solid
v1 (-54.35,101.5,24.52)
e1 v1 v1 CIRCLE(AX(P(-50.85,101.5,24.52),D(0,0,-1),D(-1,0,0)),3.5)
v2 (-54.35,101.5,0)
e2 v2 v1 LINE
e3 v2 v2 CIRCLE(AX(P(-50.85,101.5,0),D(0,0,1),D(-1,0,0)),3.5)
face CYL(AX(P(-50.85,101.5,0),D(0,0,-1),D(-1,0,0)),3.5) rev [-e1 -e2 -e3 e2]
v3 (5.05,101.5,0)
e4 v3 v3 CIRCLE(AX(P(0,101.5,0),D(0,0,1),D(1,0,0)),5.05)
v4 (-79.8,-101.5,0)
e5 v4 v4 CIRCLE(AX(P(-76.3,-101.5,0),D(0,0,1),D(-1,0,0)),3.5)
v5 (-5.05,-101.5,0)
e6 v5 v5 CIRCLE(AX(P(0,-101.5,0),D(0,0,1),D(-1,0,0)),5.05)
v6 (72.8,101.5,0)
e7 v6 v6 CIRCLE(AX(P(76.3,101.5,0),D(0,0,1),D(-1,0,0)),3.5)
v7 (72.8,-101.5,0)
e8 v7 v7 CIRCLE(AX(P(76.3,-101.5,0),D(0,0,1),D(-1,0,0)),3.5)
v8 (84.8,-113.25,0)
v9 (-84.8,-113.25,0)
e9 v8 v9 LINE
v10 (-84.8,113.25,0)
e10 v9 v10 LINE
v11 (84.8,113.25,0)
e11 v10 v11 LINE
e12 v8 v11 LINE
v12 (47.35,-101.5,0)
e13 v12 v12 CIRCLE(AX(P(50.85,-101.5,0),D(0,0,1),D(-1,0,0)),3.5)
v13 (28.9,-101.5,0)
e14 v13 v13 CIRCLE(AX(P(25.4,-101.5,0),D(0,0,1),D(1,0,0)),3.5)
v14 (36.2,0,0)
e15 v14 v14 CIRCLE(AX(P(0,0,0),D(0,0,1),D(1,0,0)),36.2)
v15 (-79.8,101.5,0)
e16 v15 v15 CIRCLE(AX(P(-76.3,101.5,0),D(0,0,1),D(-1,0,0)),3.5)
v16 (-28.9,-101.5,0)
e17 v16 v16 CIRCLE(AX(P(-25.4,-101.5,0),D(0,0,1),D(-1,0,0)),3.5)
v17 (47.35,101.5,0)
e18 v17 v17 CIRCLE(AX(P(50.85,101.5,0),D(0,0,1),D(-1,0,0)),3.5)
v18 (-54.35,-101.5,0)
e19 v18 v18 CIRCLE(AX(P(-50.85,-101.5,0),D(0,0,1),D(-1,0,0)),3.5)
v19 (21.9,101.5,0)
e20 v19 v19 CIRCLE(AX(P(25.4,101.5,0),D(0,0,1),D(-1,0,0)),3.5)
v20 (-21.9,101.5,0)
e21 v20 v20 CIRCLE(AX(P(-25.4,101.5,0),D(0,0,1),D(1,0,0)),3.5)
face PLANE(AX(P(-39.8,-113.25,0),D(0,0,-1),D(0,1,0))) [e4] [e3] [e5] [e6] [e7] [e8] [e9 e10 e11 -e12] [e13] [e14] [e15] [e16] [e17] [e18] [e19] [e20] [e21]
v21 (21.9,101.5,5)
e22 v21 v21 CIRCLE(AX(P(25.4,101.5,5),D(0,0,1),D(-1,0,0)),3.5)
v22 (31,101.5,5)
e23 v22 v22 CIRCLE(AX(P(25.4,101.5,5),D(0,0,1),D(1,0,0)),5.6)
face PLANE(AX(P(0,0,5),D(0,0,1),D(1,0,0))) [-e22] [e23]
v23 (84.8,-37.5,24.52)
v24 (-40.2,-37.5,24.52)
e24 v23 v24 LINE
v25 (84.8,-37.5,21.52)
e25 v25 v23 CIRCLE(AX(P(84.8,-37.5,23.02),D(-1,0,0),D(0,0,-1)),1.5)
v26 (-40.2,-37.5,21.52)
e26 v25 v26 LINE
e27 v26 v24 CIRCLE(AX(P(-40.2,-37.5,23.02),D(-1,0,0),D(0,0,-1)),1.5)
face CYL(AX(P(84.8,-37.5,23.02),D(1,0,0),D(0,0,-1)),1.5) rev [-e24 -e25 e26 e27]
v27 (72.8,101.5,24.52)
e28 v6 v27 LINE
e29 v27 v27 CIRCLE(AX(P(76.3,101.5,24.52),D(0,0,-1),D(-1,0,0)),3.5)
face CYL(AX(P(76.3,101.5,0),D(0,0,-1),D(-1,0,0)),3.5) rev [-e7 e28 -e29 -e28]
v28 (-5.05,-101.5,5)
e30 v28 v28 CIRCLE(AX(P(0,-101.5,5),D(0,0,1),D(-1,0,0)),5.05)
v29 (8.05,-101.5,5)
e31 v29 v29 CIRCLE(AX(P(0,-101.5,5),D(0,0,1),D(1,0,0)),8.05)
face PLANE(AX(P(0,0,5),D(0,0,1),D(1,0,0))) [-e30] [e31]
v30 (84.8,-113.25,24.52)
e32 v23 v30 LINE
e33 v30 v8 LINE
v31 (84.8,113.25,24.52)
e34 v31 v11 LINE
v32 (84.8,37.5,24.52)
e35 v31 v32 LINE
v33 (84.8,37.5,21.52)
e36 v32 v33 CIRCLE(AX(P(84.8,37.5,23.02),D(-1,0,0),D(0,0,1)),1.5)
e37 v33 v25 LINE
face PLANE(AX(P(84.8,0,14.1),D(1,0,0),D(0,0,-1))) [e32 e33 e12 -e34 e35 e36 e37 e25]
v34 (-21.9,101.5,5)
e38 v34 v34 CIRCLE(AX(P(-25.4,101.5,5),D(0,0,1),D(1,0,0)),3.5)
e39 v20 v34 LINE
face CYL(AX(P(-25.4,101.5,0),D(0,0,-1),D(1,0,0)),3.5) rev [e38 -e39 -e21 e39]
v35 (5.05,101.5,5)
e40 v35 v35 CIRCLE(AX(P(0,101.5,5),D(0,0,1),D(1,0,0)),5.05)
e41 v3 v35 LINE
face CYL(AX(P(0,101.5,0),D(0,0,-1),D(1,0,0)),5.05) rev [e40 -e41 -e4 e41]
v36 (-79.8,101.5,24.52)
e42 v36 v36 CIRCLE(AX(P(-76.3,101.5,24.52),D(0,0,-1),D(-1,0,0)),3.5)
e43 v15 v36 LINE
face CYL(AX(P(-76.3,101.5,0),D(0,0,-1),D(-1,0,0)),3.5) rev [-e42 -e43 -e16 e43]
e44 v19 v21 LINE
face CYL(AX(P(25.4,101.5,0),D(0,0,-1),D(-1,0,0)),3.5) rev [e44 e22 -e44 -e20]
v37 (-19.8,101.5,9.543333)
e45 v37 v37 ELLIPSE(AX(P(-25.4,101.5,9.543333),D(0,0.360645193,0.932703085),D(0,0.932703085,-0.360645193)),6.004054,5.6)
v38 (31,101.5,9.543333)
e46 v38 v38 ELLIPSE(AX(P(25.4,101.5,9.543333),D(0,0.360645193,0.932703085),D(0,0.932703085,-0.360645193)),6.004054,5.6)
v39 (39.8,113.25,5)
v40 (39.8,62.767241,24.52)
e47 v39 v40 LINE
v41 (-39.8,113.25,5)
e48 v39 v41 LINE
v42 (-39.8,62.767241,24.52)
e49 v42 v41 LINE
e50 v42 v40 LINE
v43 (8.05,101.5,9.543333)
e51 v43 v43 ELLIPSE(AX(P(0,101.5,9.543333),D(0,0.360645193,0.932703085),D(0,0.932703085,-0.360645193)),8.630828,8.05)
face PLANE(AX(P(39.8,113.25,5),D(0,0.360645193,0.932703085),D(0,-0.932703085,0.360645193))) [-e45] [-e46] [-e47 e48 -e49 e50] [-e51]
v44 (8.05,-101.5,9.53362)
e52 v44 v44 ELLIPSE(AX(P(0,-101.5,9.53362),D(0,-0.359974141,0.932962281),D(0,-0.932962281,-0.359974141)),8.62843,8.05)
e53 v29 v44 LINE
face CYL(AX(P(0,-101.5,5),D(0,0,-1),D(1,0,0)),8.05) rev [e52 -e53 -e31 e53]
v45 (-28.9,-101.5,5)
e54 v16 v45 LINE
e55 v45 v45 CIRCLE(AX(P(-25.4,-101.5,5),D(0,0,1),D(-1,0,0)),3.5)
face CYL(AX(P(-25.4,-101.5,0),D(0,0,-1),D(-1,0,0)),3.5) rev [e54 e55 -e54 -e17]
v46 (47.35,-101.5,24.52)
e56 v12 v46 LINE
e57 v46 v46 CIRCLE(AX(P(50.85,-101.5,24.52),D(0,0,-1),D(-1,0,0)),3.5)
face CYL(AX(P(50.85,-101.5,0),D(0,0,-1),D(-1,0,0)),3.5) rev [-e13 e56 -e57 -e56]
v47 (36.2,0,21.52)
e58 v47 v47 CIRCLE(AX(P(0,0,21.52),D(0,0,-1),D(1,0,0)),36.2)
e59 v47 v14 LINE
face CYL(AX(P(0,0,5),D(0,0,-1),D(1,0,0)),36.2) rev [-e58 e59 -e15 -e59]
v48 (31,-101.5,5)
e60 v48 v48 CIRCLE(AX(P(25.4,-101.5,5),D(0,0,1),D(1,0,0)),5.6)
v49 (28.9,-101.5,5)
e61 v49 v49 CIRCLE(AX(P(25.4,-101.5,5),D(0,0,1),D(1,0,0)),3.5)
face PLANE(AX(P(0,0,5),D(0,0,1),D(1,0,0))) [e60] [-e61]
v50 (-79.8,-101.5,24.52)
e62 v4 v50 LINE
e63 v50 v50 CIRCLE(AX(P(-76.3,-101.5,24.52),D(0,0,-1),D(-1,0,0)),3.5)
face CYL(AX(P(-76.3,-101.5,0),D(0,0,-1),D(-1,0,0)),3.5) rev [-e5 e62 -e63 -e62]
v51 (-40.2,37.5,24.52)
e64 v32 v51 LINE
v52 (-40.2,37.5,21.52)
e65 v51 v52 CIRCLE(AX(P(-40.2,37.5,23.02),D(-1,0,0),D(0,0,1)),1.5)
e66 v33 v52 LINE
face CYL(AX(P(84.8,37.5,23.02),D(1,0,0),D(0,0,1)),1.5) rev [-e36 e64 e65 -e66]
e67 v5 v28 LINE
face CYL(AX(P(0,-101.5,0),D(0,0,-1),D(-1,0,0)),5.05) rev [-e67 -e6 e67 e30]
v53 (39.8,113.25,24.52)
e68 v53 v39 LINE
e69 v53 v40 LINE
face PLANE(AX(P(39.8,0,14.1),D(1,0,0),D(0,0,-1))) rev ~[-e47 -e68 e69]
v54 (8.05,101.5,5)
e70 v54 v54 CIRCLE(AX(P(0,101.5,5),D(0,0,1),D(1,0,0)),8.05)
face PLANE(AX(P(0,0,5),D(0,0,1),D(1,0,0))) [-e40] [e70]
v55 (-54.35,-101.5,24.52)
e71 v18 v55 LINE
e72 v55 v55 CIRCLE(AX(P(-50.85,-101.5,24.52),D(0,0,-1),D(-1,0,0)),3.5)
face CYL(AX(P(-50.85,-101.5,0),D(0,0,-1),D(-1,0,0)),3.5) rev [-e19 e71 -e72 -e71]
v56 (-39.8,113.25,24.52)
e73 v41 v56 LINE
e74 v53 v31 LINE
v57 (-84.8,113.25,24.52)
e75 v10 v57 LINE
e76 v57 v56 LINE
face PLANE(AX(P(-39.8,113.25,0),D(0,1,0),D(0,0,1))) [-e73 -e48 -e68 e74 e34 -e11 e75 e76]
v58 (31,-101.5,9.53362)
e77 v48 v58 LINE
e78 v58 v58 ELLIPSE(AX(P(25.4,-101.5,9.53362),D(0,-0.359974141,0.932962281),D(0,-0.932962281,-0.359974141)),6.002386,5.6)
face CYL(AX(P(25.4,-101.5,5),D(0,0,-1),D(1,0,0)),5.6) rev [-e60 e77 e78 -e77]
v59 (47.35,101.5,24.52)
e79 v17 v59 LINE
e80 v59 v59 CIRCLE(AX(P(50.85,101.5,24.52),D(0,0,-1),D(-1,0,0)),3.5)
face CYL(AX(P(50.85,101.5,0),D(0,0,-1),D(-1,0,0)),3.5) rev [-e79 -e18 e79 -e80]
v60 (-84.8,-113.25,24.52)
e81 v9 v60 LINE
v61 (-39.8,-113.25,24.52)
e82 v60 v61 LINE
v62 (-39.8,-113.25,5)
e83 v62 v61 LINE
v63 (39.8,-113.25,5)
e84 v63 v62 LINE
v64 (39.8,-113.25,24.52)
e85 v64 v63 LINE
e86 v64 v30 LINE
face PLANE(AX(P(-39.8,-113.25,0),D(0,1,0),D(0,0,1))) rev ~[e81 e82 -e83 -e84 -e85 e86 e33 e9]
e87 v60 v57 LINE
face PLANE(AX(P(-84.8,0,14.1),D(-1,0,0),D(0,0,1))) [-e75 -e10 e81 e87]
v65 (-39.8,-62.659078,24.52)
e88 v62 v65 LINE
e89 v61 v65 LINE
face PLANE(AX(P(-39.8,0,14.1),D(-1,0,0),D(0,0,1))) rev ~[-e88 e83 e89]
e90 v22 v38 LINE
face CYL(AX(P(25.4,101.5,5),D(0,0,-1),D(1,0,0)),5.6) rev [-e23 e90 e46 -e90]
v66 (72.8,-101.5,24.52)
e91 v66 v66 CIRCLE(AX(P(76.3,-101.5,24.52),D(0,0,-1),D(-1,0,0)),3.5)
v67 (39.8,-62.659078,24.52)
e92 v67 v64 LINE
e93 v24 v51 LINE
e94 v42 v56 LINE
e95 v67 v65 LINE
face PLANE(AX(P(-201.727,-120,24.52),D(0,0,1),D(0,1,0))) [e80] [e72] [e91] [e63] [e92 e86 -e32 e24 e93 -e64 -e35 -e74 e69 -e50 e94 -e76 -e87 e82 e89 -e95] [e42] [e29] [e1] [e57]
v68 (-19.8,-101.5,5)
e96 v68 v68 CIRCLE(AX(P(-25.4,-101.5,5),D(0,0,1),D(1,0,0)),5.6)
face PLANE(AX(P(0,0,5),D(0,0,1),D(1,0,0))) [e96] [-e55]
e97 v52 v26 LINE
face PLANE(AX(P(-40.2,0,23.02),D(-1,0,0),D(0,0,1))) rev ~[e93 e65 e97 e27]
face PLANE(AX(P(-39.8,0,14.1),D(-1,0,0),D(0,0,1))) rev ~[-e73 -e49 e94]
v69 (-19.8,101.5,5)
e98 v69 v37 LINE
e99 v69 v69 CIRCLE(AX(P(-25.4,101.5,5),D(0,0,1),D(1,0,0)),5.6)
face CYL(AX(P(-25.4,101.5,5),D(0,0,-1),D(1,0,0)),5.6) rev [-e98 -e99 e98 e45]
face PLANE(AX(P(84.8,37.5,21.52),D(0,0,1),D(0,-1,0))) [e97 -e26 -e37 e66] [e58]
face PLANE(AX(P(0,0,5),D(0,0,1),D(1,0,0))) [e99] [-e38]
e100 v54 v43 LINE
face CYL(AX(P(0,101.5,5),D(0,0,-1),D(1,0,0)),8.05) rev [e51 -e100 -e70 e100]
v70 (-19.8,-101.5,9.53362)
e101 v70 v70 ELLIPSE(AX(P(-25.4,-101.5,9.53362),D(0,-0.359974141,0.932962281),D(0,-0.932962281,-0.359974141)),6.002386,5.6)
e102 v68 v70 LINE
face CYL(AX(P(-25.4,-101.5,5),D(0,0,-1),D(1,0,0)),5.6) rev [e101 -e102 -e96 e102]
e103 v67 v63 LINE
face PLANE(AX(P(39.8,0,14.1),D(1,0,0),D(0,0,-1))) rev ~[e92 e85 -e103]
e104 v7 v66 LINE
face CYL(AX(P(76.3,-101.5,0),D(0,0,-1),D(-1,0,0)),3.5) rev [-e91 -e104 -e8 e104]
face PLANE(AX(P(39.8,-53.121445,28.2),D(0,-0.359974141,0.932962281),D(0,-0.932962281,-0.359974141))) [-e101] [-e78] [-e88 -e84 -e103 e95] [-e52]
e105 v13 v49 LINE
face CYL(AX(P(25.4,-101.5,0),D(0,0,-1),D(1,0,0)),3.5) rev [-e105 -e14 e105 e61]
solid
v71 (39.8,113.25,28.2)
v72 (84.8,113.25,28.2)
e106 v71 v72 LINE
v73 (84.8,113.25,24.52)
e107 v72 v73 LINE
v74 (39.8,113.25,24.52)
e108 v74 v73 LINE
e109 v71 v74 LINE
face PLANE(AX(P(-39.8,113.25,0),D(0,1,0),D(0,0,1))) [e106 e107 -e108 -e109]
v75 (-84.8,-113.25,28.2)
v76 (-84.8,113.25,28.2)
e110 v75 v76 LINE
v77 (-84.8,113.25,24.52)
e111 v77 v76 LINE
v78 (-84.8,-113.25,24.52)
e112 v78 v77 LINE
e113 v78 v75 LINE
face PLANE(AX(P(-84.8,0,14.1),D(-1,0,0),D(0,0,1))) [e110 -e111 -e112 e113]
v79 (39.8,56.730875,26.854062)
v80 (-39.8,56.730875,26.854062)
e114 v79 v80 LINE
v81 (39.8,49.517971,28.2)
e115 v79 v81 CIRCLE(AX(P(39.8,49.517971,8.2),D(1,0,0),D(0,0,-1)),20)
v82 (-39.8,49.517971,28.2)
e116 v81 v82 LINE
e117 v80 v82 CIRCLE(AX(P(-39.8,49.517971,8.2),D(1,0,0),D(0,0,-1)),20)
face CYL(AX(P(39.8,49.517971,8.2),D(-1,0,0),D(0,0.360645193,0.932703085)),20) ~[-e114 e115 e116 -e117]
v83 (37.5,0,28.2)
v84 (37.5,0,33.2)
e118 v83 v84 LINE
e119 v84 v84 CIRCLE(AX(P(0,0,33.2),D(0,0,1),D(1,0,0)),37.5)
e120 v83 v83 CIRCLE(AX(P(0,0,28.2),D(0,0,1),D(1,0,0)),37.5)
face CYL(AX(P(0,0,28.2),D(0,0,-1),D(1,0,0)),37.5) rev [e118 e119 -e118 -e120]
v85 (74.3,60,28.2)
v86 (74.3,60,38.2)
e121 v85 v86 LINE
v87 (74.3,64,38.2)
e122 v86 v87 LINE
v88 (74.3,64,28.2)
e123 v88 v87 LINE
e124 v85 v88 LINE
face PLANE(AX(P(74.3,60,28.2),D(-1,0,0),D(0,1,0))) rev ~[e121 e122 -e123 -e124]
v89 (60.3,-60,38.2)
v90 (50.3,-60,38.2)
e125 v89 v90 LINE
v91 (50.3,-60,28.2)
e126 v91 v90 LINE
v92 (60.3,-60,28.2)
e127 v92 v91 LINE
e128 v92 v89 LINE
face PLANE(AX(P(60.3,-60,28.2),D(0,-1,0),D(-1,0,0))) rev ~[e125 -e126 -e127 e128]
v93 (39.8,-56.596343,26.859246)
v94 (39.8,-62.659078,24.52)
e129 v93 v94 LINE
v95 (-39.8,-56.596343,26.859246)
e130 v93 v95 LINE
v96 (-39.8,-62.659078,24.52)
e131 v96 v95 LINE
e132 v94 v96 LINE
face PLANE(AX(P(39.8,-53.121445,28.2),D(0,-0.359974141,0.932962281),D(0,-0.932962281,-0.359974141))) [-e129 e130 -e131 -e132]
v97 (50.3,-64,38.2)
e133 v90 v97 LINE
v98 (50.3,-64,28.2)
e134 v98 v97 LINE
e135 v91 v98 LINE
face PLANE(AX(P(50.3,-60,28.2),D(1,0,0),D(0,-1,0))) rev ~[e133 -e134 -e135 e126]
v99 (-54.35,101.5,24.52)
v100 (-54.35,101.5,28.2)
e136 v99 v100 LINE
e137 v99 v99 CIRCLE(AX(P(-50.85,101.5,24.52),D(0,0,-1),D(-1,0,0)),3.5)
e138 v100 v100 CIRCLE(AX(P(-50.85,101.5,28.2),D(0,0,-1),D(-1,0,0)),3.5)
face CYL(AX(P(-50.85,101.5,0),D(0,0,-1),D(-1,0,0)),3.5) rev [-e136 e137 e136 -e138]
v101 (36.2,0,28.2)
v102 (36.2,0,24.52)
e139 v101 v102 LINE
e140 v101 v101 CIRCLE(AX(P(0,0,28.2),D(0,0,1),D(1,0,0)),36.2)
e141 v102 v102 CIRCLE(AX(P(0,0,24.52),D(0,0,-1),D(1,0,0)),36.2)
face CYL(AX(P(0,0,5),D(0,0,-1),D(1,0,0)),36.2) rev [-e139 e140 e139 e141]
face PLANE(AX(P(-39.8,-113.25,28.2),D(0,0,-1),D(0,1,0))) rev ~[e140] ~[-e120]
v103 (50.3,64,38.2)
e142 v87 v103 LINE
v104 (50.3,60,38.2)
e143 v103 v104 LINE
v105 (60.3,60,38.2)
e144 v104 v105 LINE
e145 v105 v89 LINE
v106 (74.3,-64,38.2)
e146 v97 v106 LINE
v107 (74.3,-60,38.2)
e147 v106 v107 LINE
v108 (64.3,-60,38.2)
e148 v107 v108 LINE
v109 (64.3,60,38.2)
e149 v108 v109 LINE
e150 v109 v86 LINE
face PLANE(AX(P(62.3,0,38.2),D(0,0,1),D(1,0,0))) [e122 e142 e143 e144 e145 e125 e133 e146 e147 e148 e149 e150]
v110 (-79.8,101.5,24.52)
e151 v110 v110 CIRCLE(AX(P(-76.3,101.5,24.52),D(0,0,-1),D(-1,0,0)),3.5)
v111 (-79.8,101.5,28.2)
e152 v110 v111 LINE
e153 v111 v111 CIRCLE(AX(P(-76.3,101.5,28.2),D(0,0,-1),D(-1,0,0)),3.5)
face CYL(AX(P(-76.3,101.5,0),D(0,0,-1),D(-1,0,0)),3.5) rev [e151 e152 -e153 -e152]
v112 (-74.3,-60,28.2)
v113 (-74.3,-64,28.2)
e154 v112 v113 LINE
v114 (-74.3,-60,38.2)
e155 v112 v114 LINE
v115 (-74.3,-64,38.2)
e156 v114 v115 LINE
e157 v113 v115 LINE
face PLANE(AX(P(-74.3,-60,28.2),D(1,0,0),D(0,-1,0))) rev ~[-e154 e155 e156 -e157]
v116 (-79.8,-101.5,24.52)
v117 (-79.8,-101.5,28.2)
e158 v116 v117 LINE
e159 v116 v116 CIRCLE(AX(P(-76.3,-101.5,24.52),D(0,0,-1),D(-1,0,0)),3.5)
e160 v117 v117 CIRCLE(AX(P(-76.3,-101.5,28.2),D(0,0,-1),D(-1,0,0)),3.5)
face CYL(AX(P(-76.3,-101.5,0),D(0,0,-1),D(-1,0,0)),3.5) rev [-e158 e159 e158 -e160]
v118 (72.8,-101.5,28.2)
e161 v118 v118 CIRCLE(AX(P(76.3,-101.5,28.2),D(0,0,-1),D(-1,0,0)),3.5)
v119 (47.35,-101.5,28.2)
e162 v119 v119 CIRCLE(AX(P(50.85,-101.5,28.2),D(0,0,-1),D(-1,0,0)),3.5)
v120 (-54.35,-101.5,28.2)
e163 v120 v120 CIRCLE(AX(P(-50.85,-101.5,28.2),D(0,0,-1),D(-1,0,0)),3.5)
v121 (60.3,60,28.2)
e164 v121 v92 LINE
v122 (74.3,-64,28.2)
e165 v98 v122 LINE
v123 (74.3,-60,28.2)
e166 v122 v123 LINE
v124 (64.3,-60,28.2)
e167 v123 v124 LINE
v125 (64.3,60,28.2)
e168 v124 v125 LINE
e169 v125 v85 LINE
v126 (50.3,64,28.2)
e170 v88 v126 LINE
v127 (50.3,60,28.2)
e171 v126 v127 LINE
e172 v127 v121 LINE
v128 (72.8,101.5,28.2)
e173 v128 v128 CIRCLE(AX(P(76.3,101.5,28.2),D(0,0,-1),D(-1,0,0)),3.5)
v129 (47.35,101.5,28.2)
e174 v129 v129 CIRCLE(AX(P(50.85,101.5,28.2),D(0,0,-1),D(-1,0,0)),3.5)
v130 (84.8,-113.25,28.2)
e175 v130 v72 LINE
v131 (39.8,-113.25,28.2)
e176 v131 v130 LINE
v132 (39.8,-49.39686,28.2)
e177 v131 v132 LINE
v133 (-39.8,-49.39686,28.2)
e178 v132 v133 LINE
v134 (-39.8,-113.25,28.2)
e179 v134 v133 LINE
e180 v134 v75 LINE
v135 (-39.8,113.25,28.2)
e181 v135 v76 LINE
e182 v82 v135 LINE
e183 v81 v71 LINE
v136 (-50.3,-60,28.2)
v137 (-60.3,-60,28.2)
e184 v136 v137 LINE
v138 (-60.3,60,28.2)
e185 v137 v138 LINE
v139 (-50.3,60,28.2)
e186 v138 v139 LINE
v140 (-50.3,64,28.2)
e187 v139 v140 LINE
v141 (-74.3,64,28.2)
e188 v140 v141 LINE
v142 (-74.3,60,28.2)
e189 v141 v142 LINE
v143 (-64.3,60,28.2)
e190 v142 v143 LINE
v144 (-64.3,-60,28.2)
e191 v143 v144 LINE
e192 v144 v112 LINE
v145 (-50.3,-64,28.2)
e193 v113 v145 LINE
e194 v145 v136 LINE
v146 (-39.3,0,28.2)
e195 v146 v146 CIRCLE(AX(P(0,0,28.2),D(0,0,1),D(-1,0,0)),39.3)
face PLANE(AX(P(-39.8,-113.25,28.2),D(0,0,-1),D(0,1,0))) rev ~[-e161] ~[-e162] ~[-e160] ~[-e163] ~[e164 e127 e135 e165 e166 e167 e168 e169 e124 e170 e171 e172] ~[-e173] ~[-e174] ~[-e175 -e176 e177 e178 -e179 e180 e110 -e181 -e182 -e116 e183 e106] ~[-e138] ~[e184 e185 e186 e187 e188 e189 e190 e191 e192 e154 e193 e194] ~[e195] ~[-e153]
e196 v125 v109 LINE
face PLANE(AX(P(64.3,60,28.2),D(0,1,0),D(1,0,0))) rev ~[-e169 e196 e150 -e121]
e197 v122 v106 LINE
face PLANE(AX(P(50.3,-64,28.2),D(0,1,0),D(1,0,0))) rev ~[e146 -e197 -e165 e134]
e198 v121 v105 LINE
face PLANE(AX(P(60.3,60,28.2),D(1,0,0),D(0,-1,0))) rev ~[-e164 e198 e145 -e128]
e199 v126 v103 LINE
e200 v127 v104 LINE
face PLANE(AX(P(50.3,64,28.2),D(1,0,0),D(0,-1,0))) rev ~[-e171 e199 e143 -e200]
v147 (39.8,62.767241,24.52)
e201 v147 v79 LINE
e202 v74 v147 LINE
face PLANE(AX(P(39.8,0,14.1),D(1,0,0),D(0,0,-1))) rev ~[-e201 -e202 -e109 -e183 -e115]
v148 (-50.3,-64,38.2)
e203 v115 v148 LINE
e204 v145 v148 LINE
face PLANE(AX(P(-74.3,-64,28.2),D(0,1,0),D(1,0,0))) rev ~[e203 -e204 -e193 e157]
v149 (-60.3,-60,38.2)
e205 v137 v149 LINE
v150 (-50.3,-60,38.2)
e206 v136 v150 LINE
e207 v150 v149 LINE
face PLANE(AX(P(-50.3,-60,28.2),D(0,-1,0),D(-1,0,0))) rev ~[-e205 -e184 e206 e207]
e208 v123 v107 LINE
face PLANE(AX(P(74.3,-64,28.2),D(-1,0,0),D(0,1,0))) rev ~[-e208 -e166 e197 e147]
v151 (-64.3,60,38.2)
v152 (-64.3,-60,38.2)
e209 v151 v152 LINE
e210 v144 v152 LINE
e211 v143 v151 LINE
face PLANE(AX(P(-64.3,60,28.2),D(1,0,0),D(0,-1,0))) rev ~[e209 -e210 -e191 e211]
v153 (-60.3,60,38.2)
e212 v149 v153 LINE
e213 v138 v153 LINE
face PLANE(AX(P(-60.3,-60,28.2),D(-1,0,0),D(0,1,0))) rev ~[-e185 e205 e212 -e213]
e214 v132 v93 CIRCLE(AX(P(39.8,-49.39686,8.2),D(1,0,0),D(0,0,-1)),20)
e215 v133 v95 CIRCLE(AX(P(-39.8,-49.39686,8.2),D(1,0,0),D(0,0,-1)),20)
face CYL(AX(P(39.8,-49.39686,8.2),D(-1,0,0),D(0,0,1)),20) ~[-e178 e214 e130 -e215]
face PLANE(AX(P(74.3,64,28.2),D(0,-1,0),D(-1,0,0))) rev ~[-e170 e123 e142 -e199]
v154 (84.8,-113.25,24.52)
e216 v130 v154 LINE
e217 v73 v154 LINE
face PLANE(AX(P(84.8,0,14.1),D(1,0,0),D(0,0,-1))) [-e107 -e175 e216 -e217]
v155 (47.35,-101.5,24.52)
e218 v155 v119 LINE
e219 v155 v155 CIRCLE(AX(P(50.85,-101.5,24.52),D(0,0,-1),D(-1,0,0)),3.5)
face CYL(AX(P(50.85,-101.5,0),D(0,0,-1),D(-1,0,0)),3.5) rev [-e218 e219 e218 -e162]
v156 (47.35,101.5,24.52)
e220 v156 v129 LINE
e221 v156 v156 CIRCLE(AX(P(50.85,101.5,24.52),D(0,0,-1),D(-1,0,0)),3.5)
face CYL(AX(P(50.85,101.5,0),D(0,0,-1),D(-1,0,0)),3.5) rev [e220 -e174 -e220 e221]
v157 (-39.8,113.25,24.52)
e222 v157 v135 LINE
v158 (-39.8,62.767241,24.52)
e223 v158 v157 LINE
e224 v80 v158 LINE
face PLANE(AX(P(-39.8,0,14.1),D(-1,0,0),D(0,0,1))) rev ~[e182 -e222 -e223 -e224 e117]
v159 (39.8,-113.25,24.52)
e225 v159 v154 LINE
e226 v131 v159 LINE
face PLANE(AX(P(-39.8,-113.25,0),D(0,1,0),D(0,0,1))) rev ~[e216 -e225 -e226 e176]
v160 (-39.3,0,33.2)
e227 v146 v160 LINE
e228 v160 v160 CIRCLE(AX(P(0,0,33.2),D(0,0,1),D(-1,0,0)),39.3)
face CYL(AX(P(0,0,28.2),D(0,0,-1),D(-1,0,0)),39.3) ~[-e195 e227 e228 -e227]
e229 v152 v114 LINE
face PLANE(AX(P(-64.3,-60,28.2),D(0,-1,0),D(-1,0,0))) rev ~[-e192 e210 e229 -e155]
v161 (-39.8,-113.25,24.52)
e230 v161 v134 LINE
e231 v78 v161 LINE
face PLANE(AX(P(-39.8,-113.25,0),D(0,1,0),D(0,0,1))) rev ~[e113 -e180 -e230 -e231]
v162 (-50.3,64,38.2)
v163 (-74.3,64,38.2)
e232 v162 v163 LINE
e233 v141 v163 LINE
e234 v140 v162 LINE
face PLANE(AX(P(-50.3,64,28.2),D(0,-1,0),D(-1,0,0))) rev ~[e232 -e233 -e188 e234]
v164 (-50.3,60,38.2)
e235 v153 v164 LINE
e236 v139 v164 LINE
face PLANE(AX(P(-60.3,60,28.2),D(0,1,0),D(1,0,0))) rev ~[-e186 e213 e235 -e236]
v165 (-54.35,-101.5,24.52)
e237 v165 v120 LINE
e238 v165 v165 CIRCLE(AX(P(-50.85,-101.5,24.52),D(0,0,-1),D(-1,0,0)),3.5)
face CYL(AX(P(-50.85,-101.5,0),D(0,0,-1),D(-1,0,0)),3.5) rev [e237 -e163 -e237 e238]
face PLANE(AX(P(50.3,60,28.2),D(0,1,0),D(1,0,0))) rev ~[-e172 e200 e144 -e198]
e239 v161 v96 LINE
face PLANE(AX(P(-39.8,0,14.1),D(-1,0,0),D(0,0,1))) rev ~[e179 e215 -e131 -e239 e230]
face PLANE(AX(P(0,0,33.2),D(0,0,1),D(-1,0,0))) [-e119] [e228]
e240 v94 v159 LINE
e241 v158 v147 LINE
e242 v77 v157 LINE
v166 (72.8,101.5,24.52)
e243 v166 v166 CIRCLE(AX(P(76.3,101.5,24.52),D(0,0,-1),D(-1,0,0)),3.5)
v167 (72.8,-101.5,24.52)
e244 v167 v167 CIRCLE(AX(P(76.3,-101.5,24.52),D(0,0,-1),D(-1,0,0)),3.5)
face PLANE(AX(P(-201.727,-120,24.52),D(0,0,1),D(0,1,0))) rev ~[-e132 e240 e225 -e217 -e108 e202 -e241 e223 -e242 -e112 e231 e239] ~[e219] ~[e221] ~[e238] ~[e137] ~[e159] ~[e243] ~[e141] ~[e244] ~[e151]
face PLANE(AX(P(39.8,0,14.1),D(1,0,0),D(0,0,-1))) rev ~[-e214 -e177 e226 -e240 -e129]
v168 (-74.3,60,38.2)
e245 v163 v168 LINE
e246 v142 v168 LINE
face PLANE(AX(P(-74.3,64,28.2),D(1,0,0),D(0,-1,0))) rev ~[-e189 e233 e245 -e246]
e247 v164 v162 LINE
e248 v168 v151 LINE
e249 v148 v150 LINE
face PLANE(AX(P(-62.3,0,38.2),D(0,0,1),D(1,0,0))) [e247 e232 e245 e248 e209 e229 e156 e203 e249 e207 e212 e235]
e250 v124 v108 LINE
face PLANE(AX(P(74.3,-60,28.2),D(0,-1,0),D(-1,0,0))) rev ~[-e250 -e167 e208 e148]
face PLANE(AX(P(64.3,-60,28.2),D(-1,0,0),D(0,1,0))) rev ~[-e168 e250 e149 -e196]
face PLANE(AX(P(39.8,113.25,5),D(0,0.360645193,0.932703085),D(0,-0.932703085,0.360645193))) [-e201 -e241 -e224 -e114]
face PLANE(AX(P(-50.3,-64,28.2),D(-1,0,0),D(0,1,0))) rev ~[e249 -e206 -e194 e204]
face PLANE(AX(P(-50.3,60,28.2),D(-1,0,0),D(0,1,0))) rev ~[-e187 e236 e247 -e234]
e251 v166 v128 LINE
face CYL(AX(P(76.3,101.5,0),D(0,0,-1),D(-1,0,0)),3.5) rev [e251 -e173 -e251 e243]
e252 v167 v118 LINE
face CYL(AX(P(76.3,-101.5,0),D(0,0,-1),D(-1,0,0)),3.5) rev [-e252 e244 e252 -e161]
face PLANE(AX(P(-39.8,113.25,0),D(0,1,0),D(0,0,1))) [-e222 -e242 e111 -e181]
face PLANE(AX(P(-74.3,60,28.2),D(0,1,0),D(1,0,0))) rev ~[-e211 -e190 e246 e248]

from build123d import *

# Parameters (mm, degrees)
CROQUIS1_R                = 3.5
SALIENTE_EXTRUIR1_DEPTH   = 5
SALIENTE_EXTRUIR1_2_DEPTH = 5
SALIENTE_EXTRUIR1_3_DEPTH = 5
SALIENTE_EXTRUIR1_4_DEPTH = 5
SALIENTE_EXTRUIR1_5_DEPTH = 5
SALIENTE_EXTRUIR1_6_DEPTH = 5
SALIENTE_EXTRUIR1_7_DEPTH = 5
SALIENTE_EXTRUIR1_8_DEPTH = 5
CROQUIS1_W                = 79.6
CROQUIS1_H                = 226.5
CROQUIS1_R_2              = 5.05
CROQUIS1_R_3              = 36.2
SALIENTE_EXTRUIR1_9_DEPTH = 5
CROQUIS2_W                = 79.6
CROQUIS2_H                = 226.5
CROQUIS2_R                = 36.2
CROQUIS2_R_2              = 5.6
CROQUIS2_R_3              = 8.05
SALIENTE_EXTRUIR2_DEPTH   = 23.2
CORTAR_EXTRUIR1_DEPTH     = 80
CORTAR_EXTRUIR3_DEPTH     = 80
REDONDEO1_R               = 20
REDONDEO2_R               = 20
CROQUIS11_W               = 28.2
CROQUIS11_H               = 226.5
SALIENTE_EXTRUIR3_DEPTH   = 45
CROQUIS1_2_R              = 3.5
CORTAR_EXTRUIR7_DEPTH     = 45
CROQUIS13_W               = 28.2
CROQUIS13_H               = 226.5
SALIENTE_EXTRUIR4_DEPTH   = 45
CROQUIS1_3_R              = 3.5
CORTAR_EXTRUIR8_DEPTH     = 45
SALIENTE_EXTRUIR7_DEPTH   = 10
CORTAR_EXTRUIR9_DEPTH     = 125
PARTIR3_SURFACE_1_BACK    = 286.527
PARTIR3_SURFACE_1_DEPTH   = 573.054
PARTIR3_SURFACE_2_BACK    = 286.527
PARTIR3_SURFACE_2_DEPTH   = 573.054
CROQUIS20_R               = 39.3
CROQUIS20_R_2             = 37.5
SALIENTE_EXTRUIR8_DEPTH   = 5


with BuildPart() as part:
    # Croquis1 → Saliente-Extruir1 (new body)
    with BuildSketch(Plane.XY):
        with Locations(Location((-50.85, -101.5, 0), (0, 0, 180))):
            Circle(CROQUIS1_R)
    extrude(amount=SALIENTE_EXTRUIR1_DEPTH)



with BuildPart() as body_2:
    # Croquis1 → Saliente-Extruir1 2 (new body)
    with BuildSketch(Plane.XY):
        with Locations(Location((-76.3, -101.5, 0), (0, 0, 180))):
            Circle(CROQUIS1_R)
    extrude(amount=SALIENTE_EXTRUIR1_2_DEPTH)


with BuildPart() as body_3:
    # Croquis1 → Saliente-Extruir1 3 (new body)
    with BuildSketch(Plane.XY):
        with Locations(Location((50.85, -101.5, 0), (0, 0, 180))):
            Circle(CROQUIS1_R)
    extrude(amount=SALIENTE_EXTRUIR1_3_DEPTH)



with BuildPart() as body_4:
    # Croquis1 → Saliente-Extruir1 4 (new body)
    with BuildSketch(Plane.XY):
        with Locations(Location((76.3, -101.5, 0), (0, 0, 180))):
            Circle(CROQUIS1_R)
    extrude(amount=SALIENTE_EXTRUIR1_4_DEPTH)


with BuildPart() as body_5:
    # Croquis1 → Saliente-Extruir1 5 (new body)
    with BuildSketch(Plane.XY):
        with Locations((-76.3, 101.5)):
            Circle(CROQUIS1_R)
    extrude(amount=SALIENTE_EXTRUIR1_5_DEPTH)


with BuildPart() as body_6:
    # Croquis1 → Saliente-Extruir1 6 (new body)
    with BuildSketch(Plane.XY):
        with Locations((-50.85, 101.5)):
            Circle(CROQUIS1_R)
    extrude(amount=SALIENTE_EXTRUIR1_6_DEPTH)


with BuildPart() as body_7:
    # Croquis1 → Saliente-Extruir1 7 (new body)
    with BuildSketch(Plane.XY):
        with Locations((50.85, 101.5)):
            Circle(CROQUIS1_R)
    extrude(amount=SALIENTE_EXTRUIR1_7_DEPTH)


with BuildPart() as body_8:
    # Croquis1 → Saliente-Extruir1 8 (new body)
    with BuildSketch(Plane.XY):
        with Locations((76.3, 101.5)):
            Circle(CROQUIS1_R)
    extrude(amount=SALIENTE_EXTRUIR1_8_DEPTH)


with BuildPart() as body_9:
    # Croquis1 → Saliente-Extruir1 9 (new body)
    with BuildSketch(Plane.XY):
        Rectangle(CROQUIS1_W, CROQUIS1_H)
        with Locations((0, 101.5)):
            Circle(CROQUIS1_R_2, mode=Mode.SUBTRACT)
        with Locations((-25.4, 101.5)):
            Circle(CROQUIS1_R, mode=Mode.SUBTRACT)
        with Locations(Location((25.4, 101.5, 0), (0, 0, 180))):
            Circle(CROQUIS1_R, mode=Mode.SUBTRACT)
        with Locations((25.4, -101.5)):
            Circle(CROQUIS1_R, mode=Mode.SUBTRACT)
        with Locations(Location((0, -101.5, 0), (0, 0, 180))):
            Circle(CROQUIS1_R_2, mode=Mode.SUBTRACT)
        with Locations(Location((-25.4, -101.5, 0), (0, 0, 180))):
            Circle(CROQUIS1_R, mode=Mode.SUBTRACT)
        Circle(CROQUIS1_R_3, mode=Mode.SUBTRACT)
    extrude(amount=SALIENTE_EXTRUIR1_9_DEPTH)

    # Croquis2 → Saliente-Extruir2 (add)
    with BuildSketch(Plane.XY.offset(5)):
        Rectangle(CROQUIS2_W, CROQUIS2_H)
        Circle(CROQUIS2_R, mode=Mode.SUBTRACT)
        with Locations((-25.4, 101.5)):
            Circle(CROQUIS2_R_2, mode=Mode.SUBTRACT)
        with Locations((0, 101.5)):
            Circle(CROQUIS2_R_3, mode=Mode.SUBTRACT)
        with Locations((25.4, 101.5)):
            Circle(CROQUIS2_R_2, mode=Mode.SUBTRACT)
        with Locations((-25.4, -101.5)):
            Circle(CROQUIS2_R_2, mode=Mode.SUBTRACT)
        with Locations((25.4, -101.5)):
            Circle(CROQUIS2_R_2, mode=Mode.SUBTRACT)
        with Locations((0, -101.5)):
            Circle(CROQUIS2_R_3, mode=Mode.SUBTRACT)
    extrude(amount=SALIENTE_EXTRUIR2_DEPTH)

    # Croquis3 → Cortar-Extruir1 (cut)
    with BuildSketch(Plane(origin=(39.8, 0, 0), x_dir=(0, 0, -1), z_dir=(1, 0, 0))):
        Polygon((-5, -113.25), (-28.2, -113.25), (-28.2, -53.121445122), align=None)
    extrude(amount=-CORTAR_EXTRUIR1_DEPTH, mode=Mode.SUBTRACT)

    # Croquis4 → Cortar-Extruir3 (cut)
    with BuildSketch(Plane(origin=(39.8, 0, 0), x_dir=(0, 0, -1), z_dir=(1, 0, 0))):
        Polygon((-28.2, 113.25), (-5, 113.25), (-28.2, 53.25), align=None)
    extrude(amount=-CORTAR_EXTRUIR3_DEPTH, mode=Mode.SUBTRACT)

    # Redondeo1
    redondeo1_edges = [body_9.edges().sort_by_distance(p)[0] for p in [
        (0, 53.25, 28.2),
    ]]
    fillet(redondeo1_edges, radius=REDONDEO1_R)

    # Redondeo2
    redondeo2_edges = [body_9.edges().sort_by_distance(p)[0] for p in [
        (0, -53.121445122, 28.2),
    ]]
    fillet(redondeo2_edges, radius=REDONDEO2_R)


with BuildPart() as body_3_1:
    add(body_3.part)

    add(body_4.part)  # Saliente-Extruir3 merges body 4

    add(body_7.part)  # Saliente-Extruir3 merges body 7

    add(body_8.part)  # Saliente-Extruir3 merges body 8

    add(body_9.part)  # Saliente-Extruir3 merges body 9
    # Croquis11 → Saliente-Extruir3 (add)
    with BuildSketch(Plane(origin=(39.8, 0, 0), x_dir=(0, 0, -1), z_dir=(1, 0, 0))):
        with Locations((-14.1, 0)):
            Rectangle(CROQUIS11_W, CROQUIS11_H)
    extrude(amount=SALIENTE_EXTRUIR3_DEPTH)

    # Croquis1<2> → Cortar-Extruir7 (cut)
    with BuildSketch(Plane.XY):
        with Locations(Location((50.85, -101.5, 0), (0, 0, 180))):
            Circle(CROQUIS1_2_R)
        with Locations(Location((76.3, -101.5, 0), (0, 0, 180))):
            Circle(CROQUIS1_2_R)
        with Locations(Location((50.85, 101.5, 0), (0, 0, 180))):
            Circle(CROQUIS1_2_R)
        with Locations(Location((76.3, 101.5, 0), (0, 0, 180))):
            Circle(CROQUIS1_2_R)
    extrude(amount=CORTAR_EXTRUIR7_DEPTH, mode=Mode.SUBTRACT)


with BuildPart() as part_1:
    add(part.part)

    add(body_2.part)  # Saliente-Extruir4 merges body 2

    add(body_3_1.part)  # Saliente-Extruir4 merges body 3

    add(body_5.part)  # Saliente-Extruir4 merges body 5

    add(body_6.part)  # Saliente-Extruir4 merges body 6
    # Croquis13 → Saliente-Extruir4 (add)
    with BuildSketch(Plane.ZY.offset(39.8)):
        with Locations((14.1, 0)):
            Rectangle(CROQUIS13_W, CROQUIS13_H)
    extrude(amount=SALIENTE_EXTRUIR4_DEPTH)

    # Croquis1<3> → Cortar-Extruir8 (cut)
    with BuildSketch(Plane.XY):
        with Locations(Location((-50.85, -101.5, 0), (0, 0, 180))):
            Circle(CROQUIS1_3_R)
        with Locations(Location((-76.3, -101.5, 0), (0, 0, 180))):
            Circle(CROQUIS1_3_R)
        with Locations(Location((-76.3, 101.5, 0), (0, 0, 180))):
            Circle(CROQUIS1_3_R)
        with Locations(Location((-50.85, 101.5, 0), (0, 0, 180))):
            Circle(CROQUIS1_3_R)
    extrude(amount=CORTAR_EXTRUIR8_DEPTH, mode=Mode.SUBTRACT)

    # Croquis21 → Saliente-Extruir7 (add)
    with BuildSketch(Plane.XY.offset(28.2)):
        Polygon((-64.3, -60), (-74.3, -60), (-74.3, -64), (-64.3, -64), (-50.3, -64), (-50.3, -60), (-60.3, -60), (-60.3, 60), (-50.3, 60), (-50.3, 64), (-74.3, 64), (-74.3, 60), (-64.3, 60), align=None)
        Polygon((50.3, 64), (50.3, 60), (60.3, 60), (60.3, -60), (50.3, -60), (50.3, -64), (64.3, -64), (74.3, -64), (74.3, -60), (64.3, -60), (64.3, 60), (74.3, 60), (74.3, 64), align=None)
    extrude(amount=SALIENTE_EXTRUIR7_DEPTH)

    # Croquis22 → Cortar-Extruir9 (cut)
    with BuildSketch(Plane(origin=(84.8, 0, 0), x_dir=(0, 0, -1), z_dir=(1, 0, 0))):
        with BuildLine():
            Line((-24.52, -37.5), (-24.52, 37.5))
            ThreePointArc((-24.52, 37.5), (-23.02, 39), (-21.52, 37.5))
            Line((-21.52, 37.5), (-21.52, -37.5))
            ThreePointArc((-21.52, -37.5), (-23.02, -39), (-24.52, -37.5))
        make_face()
    extrude(amount=-CORTAR_EXTRUIR9_DEPTH, mode=Mode.SUBTRACT)


with BuildPart() as body_2_2:
    # Partir3: the piece behind the surface
    add(part_1.part)
    # Partir3 surface: a surface, the sketch's curves swept straight by 573.054 mm
    with BuildLine(Plane(origin=(84.8, 0, 0), x_dir=(0, 0, -1), z_dir=(1, 0, 0)).offset(-PARTIR3_SURFACE_1_BACK), mode=Mode.PRIVATE) as partir3_surface_1_path:
        Line((-24.52, -120), (-24.52, 0))
        Line((-24.52, 0), (-24.52, 124.107355669))
    partir3_surface_1 = Shell.extrude(partir3_surface_1_path.wire(), (1 * PARTIR3_SURFACE_1_DEPTH, 0 * PARTIR3_SURFACE_1_DEPTH, 0 * PARTIR3_SURFACE_1_DEPTH))
    split(bisect_by=partir3_surface_1, keep=Keep.BOTTOM)


with BuildPart() as part_2:
    add(part_1.part)

    # Partir3: split by a surface, the side it looks to stays
    # Partir3 surface: a surface, the sketch's curves swept straight by 573.054 mm
    with BuildLine(Plane(origin=(84.8, 0, 0), x_dir=(0, 0, -1), z_dir=(1, 0, 0)).offset(-PARTIR3_SURFACE_2_BACK), mode=Mode.PRIVATE) as partir3_surface_2_path:
        Line((-24.52, -120), (-24.52, 0))
        Line((-24.52, 0), (-24.52, 124.107355669))
    partir3_surface_2 = Shell.extrude(partir3_surface_2_path.wire(), (1 * PARTIR3_SURFACE_2_DEPTH, 0 * PARTIR3_SURFACE_2_DEPTH, 0 * PARTIR3_SURFACE_2_DEPTH))
    split(bisect_by=partir3_surface_2, keep=Keep.TOP)

    # Croquis20 → Saliente-Extruir8 (add)
    with BuildSketch(Plane.XY.offset(28.2)):
        with Locations(Location((0, 0, 0), (0, 0, 180))):
            Circle(CROQUIS20_R)
        Circle(CROQUIS20_R_2, mode=Mode.SUBTRACT)
    extrude(amount=SALIENTE_EXTRUIR8_DEPTH)


solid = Compound([body_2_2.part, part_2.part])
